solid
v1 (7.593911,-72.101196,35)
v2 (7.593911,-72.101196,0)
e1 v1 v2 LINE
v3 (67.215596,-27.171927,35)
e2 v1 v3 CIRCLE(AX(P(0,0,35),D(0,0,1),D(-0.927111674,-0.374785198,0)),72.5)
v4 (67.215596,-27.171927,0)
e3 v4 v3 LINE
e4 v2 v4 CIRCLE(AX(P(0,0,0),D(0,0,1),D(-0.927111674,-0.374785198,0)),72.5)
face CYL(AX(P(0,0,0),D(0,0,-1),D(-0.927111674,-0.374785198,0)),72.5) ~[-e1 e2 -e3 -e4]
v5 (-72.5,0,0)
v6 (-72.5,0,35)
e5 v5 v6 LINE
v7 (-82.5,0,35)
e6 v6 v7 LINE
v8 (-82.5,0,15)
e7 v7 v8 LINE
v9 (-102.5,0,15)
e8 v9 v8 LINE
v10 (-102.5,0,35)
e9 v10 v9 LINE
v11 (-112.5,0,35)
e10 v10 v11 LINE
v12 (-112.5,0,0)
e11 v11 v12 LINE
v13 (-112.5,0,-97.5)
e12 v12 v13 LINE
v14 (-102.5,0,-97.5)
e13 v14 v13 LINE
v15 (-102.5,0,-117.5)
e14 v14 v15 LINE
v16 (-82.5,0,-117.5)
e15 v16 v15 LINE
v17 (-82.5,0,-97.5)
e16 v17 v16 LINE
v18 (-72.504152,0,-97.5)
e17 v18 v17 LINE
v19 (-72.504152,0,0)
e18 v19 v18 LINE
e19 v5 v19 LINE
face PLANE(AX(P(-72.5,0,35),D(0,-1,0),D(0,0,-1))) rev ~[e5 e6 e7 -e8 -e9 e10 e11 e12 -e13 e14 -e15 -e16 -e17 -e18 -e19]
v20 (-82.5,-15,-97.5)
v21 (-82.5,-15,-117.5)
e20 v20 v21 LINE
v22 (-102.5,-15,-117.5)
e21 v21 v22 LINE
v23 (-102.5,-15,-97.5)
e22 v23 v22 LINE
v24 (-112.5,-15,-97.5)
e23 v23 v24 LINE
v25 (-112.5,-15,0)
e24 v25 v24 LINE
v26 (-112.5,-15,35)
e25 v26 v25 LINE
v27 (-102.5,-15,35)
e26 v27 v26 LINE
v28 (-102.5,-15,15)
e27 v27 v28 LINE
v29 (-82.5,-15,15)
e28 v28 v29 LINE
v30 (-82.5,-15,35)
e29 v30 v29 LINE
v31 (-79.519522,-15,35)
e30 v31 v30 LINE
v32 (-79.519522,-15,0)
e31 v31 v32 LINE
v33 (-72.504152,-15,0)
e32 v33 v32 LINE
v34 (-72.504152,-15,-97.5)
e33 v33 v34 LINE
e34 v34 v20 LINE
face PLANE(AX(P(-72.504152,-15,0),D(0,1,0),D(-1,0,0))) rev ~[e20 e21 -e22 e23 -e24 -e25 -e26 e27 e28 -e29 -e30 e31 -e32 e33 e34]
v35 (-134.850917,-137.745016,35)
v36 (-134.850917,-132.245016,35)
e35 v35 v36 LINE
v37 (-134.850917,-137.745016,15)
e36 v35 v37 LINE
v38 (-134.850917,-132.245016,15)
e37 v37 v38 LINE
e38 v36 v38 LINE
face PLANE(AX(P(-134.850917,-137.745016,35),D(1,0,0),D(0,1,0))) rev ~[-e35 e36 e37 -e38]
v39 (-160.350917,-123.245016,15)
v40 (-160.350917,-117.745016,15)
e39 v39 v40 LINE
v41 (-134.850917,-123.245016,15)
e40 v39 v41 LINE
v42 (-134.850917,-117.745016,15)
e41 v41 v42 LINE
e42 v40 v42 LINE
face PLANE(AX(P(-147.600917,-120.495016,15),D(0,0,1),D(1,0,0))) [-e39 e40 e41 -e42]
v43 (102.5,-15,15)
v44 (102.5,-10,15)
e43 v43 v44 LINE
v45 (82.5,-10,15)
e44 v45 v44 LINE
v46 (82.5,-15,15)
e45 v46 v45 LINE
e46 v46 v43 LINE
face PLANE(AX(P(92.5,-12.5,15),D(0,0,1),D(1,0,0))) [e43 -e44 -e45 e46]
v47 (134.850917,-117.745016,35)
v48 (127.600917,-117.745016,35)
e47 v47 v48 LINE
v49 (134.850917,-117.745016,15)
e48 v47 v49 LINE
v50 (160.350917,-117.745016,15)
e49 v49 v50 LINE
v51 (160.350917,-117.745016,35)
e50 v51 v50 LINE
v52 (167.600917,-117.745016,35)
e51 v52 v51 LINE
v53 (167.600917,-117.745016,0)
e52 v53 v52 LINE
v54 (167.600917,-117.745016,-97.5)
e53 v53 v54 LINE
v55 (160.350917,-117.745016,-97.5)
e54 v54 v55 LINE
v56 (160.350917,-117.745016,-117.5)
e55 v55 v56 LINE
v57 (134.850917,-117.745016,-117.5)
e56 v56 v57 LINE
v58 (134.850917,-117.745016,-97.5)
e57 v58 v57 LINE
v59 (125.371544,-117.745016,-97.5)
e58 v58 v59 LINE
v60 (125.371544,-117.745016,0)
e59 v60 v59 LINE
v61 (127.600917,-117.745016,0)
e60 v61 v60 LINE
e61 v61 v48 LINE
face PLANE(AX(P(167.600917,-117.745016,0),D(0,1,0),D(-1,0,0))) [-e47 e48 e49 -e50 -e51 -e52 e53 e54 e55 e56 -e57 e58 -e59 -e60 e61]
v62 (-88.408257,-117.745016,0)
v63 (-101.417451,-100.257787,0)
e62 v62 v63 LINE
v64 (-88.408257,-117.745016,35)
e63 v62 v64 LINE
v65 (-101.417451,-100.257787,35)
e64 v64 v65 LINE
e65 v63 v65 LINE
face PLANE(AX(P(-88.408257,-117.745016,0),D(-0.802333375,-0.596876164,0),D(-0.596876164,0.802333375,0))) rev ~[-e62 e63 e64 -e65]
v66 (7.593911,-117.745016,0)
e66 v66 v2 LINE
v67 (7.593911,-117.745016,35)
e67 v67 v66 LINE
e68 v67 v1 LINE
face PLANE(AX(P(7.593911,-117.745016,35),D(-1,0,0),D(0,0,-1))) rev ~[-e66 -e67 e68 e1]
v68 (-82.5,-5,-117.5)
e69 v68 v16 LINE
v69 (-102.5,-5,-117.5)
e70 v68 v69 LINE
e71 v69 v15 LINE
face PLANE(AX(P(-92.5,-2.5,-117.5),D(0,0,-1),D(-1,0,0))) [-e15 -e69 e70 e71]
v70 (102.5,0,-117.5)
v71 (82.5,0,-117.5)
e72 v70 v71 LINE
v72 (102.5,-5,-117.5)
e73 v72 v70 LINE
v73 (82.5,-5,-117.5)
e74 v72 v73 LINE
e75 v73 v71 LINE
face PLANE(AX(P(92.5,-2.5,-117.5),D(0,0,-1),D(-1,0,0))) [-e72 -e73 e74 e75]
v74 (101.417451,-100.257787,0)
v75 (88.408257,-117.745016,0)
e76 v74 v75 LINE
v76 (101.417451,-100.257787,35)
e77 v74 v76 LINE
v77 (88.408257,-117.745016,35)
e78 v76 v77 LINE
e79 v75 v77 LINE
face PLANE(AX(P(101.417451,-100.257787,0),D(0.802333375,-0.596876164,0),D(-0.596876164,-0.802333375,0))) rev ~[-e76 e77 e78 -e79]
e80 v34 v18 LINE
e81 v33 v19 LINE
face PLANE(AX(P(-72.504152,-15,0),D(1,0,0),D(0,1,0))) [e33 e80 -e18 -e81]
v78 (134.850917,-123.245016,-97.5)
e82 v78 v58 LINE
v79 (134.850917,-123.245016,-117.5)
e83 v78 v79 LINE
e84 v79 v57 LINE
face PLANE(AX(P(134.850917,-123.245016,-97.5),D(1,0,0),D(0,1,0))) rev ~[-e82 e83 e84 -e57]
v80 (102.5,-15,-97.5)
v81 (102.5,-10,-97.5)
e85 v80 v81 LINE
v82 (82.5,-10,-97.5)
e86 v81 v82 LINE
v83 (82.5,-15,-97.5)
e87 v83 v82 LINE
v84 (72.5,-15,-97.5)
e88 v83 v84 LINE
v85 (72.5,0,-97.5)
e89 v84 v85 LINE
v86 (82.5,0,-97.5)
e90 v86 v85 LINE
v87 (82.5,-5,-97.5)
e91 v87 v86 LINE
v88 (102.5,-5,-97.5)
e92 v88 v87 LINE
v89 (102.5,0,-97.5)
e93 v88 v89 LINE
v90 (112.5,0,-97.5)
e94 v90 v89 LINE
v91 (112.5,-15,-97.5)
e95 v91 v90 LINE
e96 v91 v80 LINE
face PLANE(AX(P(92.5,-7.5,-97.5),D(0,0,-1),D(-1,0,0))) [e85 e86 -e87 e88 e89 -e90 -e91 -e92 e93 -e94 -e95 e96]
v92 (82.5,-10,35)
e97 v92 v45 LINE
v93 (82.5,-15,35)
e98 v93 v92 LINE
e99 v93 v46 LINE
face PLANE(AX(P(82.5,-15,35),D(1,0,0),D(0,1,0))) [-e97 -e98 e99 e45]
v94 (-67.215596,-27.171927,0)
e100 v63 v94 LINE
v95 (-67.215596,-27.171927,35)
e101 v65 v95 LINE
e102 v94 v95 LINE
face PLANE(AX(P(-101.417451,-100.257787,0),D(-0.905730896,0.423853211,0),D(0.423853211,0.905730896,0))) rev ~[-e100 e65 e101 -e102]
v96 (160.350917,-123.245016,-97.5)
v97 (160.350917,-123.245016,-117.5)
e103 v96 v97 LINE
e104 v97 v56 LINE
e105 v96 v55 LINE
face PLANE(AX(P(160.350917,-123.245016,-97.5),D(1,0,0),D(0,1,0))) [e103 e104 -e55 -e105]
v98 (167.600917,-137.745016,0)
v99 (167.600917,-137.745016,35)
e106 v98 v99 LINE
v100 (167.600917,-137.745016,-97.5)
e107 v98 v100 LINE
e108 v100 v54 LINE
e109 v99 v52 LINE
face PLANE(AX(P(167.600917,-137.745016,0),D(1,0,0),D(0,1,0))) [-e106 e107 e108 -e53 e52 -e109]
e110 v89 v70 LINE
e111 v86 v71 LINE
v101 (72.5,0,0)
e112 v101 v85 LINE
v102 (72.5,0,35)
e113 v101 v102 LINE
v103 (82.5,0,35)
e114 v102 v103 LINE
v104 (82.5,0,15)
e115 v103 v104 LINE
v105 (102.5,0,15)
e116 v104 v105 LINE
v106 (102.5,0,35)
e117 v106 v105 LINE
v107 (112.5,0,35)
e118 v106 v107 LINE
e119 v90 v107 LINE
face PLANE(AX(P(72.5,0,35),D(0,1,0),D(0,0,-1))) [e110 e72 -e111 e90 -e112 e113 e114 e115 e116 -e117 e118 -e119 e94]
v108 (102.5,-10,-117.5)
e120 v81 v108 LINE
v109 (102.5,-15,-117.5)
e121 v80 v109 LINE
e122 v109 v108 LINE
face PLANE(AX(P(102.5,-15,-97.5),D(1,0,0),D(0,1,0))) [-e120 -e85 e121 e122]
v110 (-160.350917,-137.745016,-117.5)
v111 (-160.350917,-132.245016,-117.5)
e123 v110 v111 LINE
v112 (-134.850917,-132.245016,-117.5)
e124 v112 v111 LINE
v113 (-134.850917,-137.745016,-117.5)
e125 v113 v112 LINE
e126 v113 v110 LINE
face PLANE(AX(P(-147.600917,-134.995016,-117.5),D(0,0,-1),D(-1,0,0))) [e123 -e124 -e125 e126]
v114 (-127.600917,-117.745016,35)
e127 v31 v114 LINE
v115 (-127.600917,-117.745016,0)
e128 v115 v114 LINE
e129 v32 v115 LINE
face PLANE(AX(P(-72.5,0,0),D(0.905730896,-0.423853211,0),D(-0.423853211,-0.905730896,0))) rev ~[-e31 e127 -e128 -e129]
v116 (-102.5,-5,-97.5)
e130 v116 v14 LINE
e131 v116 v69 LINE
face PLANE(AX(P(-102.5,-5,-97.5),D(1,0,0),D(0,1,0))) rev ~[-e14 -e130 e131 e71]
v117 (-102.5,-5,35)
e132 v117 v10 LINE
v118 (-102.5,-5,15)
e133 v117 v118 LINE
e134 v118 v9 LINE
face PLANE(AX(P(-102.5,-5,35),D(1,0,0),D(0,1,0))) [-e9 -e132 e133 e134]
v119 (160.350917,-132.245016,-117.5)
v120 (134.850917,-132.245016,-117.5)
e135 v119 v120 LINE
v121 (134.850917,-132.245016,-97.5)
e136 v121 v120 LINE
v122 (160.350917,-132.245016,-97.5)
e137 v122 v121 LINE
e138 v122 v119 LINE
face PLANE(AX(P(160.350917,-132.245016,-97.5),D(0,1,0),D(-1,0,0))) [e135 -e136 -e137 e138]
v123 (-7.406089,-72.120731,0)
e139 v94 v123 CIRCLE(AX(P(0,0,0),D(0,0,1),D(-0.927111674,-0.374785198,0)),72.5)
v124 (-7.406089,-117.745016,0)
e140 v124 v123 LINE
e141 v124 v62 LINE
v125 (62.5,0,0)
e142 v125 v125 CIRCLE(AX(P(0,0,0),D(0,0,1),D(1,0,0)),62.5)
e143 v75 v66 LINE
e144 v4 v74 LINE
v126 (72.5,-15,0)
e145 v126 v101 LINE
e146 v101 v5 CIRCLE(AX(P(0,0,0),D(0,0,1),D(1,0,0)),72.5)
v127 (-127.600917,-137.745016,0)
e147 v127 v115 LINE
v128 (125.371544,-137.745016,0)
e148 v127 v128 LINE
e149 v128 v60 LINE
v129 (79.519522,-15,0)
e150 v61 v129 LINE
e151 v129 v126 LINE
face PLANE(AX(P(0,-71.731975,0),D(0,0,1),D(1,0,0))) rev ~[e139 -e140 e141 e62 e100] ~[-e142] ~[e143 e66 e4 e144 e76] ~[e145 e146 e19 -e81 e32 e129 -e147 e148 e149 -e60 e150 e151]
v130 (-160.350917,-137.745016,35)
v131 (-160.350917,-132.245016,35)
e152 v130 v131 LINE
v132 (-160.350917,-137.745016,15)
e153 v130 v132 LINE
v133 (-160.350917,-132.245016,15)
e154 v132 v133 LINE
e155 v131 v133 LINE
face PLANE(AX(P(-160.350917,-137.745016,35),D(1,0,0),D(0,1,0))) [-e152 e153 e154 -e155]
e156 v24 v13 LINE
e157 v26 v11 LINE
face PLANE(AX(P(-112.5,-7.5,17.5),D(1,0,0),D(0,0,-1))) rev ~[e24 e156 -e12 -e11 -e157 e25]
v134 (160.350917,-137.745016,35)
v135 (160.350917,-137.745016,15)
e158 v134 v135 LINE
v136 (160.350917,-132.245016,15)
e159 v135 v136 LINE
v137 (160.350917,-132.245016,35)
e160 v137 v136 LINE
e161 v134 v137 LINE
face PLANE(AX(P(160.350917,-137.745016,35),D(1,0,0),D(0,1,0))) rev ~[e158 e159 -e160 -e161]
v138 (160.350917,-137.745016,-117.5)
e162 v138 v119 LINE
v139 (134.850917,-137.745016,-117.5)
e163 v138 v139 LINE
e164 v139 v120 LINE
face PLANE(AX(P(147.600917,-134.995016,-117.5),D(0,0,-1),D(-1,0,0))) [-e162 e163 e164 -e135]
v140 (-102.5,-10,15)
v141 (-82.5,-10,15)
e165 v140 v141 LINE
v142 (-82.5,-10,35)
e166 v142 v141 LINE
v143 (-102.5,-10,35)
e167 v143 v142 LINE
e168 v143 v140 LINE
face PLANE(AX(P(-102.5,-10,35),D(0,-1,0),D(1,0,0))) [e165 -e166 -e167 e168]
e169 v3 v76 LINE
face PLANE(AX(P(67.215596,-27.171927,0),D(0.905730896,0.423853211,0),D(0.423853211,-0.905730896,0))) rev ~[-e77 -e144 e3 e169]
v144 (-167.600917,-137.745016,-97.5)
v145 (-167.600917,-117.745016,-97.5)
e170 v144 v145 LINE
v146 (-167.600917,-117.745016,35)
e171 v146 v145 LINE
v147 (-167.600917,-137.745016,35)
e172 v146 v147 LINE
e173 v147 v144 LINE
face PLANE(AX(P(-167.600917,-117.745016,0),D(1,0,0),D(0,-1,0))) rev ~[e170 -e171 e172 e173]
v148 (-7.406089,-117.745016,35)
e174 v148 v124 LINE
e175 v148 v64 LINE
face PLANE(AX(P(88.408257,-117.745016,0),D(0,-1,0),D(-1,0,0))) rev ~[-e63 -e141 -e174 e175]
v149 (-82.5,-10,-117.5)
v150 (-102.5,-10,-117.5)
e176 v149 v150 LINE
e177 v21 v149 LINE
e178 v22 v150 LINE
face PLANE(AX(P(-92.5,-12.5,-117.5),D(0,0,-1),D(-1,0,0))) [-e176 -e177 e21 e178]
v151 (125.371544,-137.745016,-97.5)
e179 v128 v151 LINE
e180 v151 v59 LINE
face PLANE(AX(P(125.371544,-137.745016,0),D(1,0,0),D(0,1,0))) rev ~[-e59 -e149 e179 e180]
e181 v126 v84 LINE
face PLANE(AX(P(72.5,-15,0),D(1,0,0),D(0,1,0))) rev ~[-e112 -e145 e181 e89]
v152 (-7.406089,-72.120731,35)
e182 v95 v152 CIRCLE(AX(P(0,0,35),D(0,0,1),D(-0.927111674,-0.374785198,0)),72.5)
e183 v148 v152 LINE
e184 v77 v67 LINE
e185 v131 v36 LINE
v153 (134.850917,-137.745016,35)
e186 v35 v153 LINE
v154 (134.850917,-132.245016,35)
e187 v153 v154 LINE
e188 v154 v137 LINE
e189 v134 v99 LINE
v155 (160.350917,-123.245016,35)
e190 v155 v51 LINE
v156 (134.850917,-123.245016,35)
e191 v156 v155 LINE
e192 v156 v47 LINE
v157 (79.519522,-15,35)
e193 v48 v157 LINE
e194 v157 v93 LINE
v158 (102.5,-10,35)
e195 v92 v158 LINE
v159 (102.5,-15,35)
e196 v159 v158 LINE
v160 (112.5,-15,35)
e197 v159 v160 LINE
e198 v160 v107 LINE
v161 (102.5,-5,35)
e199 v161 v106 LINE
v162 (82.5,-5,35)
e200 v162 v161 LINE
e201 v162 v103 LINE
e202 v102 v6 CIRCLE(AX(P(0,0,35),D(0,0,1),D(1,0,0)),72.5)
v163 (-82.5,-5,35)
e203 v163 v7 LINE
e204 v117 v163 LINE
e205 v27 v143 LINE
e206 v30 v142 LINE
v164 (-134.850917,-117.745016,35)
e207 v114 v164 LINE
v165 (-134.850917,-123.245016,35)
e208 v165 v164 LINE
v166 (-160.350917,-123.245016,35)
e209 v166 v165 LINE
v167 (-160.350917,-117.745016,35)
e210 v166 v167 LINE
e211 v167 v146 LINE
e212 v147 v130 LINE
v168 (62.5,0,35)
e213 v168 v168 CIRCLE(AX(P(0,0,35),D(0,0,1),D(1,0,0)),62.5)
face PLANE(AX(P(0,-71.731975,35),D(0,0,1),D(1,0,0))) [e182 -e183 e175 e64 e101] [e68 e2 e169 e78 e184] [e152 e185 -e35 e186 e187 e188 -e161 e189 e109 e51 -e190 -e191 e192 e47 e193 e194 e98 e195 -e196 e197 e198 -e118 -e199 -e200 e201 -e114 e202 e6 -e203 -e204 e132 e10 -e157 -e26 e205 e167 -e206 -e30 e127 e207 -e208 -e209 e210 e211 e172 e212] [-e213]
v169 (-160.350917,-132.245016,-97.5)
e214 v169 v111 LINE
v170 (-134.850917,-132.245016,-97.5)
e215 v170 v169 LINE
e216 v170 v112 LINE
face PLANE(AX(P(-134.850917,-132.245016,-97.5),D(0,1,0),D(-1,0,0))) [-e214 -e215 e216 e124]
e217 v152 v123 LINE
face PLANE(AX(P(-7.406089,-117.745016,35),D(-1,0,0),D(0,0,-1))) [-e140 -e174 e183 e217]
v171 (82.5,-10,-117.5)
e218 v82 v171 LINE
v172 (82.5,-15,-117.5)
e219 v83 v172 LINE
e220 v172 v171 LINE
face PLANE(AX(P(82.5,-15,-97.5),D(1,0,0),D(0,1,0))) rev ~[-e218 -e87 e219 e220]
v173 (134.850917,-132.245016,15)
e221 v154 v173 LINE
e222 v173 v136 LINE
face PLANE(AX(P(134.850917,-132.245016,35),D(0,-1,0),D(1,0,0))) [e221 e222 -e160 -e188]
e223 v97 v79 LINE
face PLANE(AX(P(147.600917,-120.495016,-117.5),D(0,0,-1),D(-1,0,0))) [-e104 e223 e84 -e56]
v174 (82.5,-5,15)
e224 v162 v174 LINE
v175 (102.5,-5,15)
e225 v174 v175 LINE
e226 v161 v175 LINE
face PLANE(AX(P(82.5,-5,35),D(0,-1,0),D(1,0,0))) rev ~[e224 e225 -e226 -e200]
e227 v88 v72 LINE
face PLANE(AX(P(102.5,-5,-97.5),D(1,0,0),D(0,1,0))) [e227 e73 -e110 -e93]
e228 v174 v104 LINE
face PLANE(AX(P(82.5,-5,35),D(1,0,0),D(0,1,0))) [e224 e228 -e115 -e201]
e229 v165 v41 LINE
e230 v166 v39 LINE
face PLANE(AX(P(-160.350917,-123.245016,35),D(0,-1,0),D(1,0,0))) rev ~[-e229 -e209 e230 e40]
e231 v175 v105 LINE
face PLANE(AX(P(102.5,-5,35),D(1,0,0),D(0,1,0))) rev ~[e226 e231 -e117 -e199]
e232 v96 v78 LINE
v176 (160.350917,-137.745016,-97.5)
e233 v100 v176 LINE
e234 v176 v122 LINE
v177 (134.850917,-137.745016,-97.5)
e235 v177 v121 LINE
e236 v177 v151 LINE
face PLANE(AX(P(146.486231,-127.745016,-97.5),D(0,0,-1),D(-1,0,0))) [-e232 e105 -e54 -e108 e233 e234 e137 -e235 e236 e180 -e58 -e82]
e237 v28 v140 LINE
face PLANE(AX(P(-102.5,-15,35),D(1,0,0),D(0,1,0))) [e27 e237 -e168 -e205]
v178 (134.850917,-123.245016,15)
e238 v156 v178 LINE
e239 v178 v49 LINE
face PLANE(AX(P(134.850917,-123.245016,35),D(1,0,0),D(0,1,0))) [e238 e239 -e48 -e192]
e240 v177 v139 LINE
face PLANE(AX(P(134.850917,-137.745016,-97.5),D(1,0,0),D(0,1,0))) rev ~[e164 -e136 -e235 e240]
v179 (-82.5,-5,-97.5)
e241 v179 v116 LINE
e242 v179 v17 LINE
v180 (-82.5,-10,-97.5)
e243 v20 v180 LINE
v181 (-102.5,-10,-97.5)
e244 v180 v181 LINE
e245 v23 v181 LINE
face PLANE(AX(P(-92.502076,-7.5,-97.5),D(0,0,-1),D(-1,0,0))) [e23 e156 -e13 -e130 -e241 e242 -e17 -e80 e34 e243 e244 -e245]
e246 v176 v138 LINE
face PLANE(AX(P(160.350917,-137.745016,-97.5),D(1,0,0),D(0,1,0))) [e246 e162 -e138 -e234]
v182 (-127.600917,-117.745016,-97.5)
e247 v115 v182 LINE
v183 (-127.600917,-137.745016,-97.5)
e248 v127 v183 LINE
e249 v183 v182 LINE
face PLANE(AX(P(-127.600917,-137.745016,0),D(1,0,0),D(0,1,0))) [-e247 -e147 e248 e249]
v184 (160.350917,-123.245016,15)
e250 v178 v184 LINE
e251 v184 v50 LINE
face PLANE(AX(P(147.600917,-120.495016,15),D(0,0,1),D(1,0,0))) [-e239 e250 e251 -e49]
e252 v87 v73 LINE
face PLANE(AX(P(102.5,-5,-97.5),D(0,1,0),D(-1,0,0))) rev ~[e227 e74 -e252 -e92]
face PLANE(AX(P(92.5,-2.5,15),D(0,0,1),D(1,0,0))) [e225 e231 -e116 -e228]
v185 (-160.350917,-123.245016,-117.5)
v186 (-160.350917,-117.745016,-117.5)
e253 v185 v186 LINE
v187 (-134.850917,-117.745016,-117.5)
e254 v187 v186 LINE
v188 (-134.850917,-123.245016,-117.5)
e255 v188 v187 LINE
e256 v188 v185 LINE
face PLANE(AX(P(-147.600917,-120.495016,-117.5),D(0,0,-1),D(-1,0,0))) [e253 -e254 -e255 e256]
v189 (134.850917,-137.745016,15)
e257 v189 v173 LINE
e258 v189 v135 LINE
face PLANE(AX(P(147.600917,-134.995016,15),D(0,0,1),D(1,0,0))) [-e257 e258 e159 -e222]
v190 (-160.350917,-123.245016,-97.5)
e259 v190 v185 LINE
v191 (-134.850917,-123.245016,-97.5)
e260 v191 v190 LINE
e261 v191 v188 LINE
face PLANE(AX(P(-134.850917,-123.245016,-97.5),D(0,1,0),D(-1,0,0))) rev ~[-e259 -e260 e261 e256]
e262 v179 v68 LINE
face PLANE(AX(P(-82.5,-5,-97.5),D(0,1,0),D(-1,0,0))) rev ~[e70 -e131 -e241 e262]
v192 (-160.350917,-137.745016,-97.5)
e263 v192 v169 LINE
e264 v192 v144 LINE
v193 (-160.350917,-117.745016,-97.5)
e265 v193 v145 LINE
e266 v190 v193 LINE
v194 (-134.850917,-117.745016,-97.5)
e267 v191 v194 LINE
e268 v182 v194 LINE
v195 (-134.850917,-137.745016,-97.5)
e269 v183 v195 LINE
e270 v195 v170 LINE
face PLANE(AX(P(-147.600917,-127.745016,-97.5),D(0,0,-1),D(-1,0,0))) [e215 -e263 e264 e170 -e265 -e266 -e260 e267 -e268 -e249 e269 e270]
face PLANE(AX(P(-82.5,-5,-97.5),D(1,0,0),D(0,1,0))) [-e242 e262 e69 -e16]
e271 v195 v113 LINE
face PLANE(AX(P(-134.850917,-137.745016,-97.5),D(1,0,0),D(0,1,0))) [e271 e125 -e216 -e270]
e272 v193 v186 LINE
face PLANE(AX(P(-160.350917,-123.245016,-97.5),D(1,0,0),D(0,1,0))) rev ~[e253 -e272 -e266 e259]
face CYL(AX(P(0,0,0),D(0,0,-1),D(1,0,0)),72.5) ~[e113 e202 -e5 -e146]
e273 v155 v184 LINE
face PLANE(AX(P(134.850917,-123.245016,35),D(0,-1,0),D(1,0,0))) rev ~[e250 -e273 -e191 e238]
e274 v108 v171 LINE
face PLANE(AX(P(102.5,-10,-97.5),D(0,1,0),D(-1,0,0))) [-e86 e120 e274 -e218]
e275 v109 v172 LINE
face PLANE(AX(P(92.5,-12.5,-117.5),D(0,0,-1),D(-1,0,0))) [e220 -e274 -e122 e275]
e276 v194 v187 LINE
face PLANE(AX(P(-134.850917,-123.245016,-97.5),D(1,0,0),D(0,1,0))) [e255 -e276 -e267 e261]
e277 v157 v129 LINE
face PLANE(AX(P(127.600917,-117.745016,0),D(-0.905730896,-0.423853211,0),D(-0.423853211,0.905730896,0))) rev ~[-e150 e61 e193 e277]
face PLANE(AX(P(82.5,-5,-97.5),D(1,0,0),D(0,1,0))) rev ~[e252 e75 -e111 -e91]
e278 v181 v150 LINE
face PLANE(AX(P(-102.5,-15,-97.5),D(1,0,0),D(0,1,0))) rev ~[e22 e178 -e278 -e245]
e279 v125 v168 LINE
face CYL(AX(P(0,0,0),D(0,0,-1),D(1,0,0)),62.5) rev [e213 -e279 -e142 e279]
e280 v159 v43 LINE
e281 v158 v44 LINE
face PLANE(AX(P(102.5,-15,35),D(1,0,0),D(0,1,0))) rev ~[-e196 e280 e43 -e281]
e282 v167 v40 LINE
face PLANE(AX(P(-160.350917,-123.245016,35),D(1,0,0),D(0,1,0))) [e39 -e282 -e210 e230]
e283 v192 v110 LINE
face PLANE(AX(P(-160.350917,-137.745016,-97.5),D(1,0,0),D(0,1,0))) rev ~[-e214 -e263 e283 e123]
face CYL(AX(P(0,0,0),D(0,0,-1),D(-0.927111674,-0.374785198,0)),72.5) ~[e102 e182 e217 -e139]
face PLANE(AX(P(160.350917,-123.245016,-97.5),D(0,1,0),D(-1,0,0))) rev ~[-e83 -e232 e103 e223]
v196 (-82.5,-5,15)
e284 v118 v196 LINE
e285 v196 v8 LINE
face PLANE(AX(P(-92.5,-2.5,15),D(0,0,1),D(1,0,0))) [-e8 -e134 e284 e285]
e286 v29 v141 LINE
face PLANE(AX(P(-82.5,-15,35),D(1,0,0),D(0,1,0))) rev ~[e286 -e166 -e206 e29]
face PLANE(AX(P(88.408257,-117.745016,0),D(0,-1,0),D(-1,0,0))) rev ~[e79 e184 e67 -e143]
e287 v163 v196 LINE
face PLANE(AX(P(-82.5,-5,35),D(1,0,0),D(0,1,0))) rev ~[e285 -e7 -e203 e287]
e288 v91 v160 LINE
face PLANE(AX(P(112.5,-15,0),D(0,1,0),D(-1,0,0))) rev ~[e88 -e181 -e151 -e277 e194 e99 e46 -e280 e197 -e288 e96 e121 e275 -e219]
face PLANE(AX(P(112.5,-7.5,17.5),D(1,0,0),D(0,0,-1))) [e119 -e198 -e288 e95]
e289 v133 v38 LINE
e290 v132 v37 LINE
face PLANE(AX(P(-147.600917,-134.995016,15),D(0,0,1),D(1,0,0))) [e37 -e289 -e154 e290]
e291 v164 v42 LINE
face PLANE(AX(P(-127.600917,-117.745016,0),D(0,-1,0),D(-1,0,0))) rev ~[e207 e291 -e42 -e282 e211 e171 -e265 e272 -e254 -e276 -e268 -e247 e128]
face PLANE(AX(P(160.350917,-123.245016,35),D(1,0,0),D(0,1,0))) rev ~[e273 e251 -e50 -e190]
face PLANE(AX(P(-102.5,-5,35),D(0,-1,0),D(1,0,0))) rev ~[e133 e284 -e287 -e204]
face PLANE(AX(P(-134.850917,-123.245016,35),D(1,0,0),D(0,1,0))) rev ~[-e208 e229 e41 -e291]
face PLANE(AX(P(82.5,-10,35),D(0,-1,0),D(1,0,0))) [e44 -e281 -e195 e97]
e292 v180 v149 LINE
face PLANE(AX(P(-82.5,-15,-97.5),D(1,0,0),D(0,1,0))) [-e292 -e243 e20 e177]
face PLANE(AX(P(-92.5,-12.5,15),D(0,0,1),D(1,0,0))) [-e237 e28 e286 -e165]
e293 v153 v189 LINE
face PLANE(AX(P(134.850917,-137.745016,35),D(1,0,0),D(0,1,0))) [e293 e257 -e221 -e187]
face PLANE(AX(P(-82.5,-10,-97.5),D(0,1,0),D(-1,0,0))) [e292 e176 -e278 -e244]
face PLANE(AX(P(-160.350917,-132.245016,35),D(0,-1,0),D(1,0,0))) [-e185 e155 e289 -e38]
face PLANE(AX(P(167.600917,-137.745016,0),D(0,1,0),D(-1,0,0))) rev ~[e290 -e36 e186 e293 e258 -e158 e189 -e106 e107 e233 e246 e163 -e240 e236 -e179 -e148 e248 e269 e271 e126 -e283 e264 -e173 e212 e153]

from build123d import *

# Parameters (mm, degrees)
SKETCH1_R            = 62.5
BOSS_EXTRUDE8_DEPTH  = 35
BOSS_EXTRUDE9_REACH  = 192.245
SKETCH2_W            = 15
SKETCH2_H            = 35
SKETCH10_W           = 35
SKETCH10_H           = 15
BOSS_EXTRUDE12_DEPTH = 40
SKETCH6_W            = 35
SKETCH6_H            = 15
BOSS_EXTRUDE10_DEPTH = 40
SKETCH12_W           = 42.229373335
SKETCH12_H           = 20
SKETCH12_W_2         = 40
SKETCH12_H_2         = 15
SKETCH12_W_3         = 39.995847529
BOSS_EXTRUDE13_DEPTH = 97.5
SKETCH13_W           = 20
SKETCH13_H           = 5
SKETCH13_W_2         = 25.5
SKETCH13_H_2         = 5.5
CUT_EXTRUDE1_DEPTH   = 20
SKETCH14_W           = 20
SKETCH14_H           = 5
SKETCH14_W_2         = 25.5
SKETCH14_H_2         = 5.5
BOSS_EXTRUDE14_DEPTH = 20


with BuildPart() as part:
    # Sketch1 → Boss-Extrude8 (new body)
    with BuildSketch(Plane.XY):
        with BuildLine():
            Line((127.600917431, -117.745016448), (72.5, 0))
            ThreePointArc((72.5, 0), (0, 72.5), (-72.5, 0))
            Line((-72.5, 0), (-127.600917431, -117.745016448))
            Line((-127.600917431, -117.745016448), (-167.600917431, -117.745016448))
            Line((-167.600917431, -117.745016448), (-167.600917431, -137.745016448))
            Line((-167.600917431, -137.745016448), (167.600917431, -137.745016448))
            Line((167.600917431, -137.745016448), (167.600917431, -117.745016448))
            Line((167.600917431, -117.745016448), (127.600917431, -117.745016448))
        make_face()
        with BuildLine():
            ThreePointArc((-67.21559633, -27.171926873), (0, -72.5), (67.21559633, -27.171926873))
            Line((67.21559633, -27.171926873), (101.417450928, -100.25778678))
            Line((101.417450928, -100.25778678), (88.408256881, -117.745016448))
            Line((88.408256881, -117.745016448), (-88.408256881, -117.745016448))
            Line((-88.408256881, -117.745016448), (-101.417450928, -100.25778678))
            Line((-101.417450928, -100.25778678), (-67.21559633, -27.171926873))
        make_face(mode=Mode.SUBTRACT)
        Circle(SKETCH1_R, mode=Mode.SUBTRACT)
    extrude(amount=BOSS_EXTRUDE8_DEPTH)

    # Sketch2 → Boss-Extrude9 (add, up to next)
    with BuildSketch(Plane(origin=(0, -117.745016448, 0), x_dir=(1, 0, 0), z_dir=(0, 1, 0)), mode=Mode.PRIVATE) as boss_extrude9_sk1:
        with Locations((0.093911399, -17.5)):
            Rectangle(SKETCH2_W, SKETCH2_H)
    boss_extrude9_tool1 = extrude(boss_extrude9_sk1.sketch, amount=BOSS_EXTRUDE9_REACH, mode=Mode.PRIVATE) - part.part
    add(boss_extrude9_tool1.solids().sort_by_distance((0.093911, -117.745016, 17.5))[0])

    # Sketch10 → Boss-Extrude12 (add)
    with BuildSketch(Plane(origin=(-72.5, 0, 0), x_dir=(0, 0, -1), z_dir=(1, 0, 0))):
        with Locations((-17.5, -7.5)):
            Rectangle(SKETCH10_W, SKETCH10_H)
    extrude(amount=-BOSS_EXTRUDE12_DEPTH)

    # Sketch6 → Boss-Extrude10 (add)
    with BuildSketch(Plane(origin=(72.5, 0, 0), x_dir=(0, 0, -1), z_dir=(1, 0, 0))):
        with Locations((-17.5, -7.5)):
            Rectangle(SKETCH6_W, SKETCH6_H)
    extrude(amount=BOSS_EXTRUDE10_DEPTH)

    # Sketch12 → Boss-Extrude13 (add)
    with BuildSketch(Plane(origin=(0, 0, 0), x_dir=(-1, 0, 0), z_dir=(0, 0, -1))):
        with Locations((-146.486230764, -127.745016448)):
            Rectangle(SKETCH12_W, SKETCH12_H)
        with Locations((147.600917431, -127.745016448)):
            Rectangle(SKETCH12_W_2, SKETCH12_H)
        with Locations((-92.5, -7.5)):
            Rectangle(SKETCH12_W_2, SKETCH12_H_2)
        with Locations((92.502076235, -7.5)):
            Rectangle(SKETCH12_W_3, SKETCH12_H_2)
    extrude(amount=BOSS_EXTRUDE13_DEPTH)

    # Sketch13 → Cut-Extrude1 (cut)
    with BuildSketch(Plane.XY.offset(35)):
        with Locations((-92.5, -12.5)):
            Rectangle(SKETCH13_W, SKETCH13_H)
        with Locations((-147.600917431, -134.995016448)):
            Rectangle(SKETCH13_W_2, SKETCH13_H_2)
        with Locations((-92.5, -2.5)):
            Rectangle(SKETCH13_W, SKETCH13_H)
        with Locations((92.5, -2.5)):
            Rectangle(SKETCH13_W, SKETCH13_H)
        with Locations((92.5, -12.5)):
            Rectangle(SKETCH13_W, SKETCH13_H)
        with Locations((147.600917431, -120.495016448)):
            Rectangle(SKETCH13_W_2, SKETCH13_H_2)
        with Locations((147.600917431, -134.995016448)):
            Rectangle(SKETCH13_W_2, SKETCH13_H_2)
        with Locations((-147.600917431, -120.495016448)):
            Rectangle(SKETCH13_W_2, SKETCH13_H_2)
    extrude(amount=-CUT_EXTRUDE1_DEPTH, mode=Mode.SUBTRACT)

    # Sketch14 → Boss-Extrude14 (add)
    with BuildSketch(Plane(origin=(0, 0, -97.5), x_dir=(-1, 0, 0), z_dir=(0, 0, -1))):
        with Locations((-92.5, -2.5)):
            Rectangle(SKETCH14_W, SKETCH14_H)
        with Locations((-92.5, -12.5)):
            Rectangle(SKETCH14_W, SKETCH14_H)
        with Locations((92.5, -2.5)):
            Rectangle(SKETCH14_W, SKETCH14_H)
        with Locations((92.5, -12.5)):
            Rectangle(SKETCH14_W, SKETCH14_H)
        with Locations((147.600917431, -120.495016448)):
            Rectangle(SKETCH14_W_2, SKETCH14_H_2)
        with Locations((147.600917431, -134.995016448)):
            Rectangle(SKETCH14_W_2, SKETCH14_H_2)
        with Locations((-147.600917431, -120.495016448)):
            Rectangle(SKETCH14_W_2, SKETCH14_H_2)
        with Locations((-147.600917431, -134.995016448)):
            Rectangle(SKETCH14_W_2, SKETCH14_H_2)
    extrude(amount=BOSS_EXTRUDE14_DEPTH)


solid = part.part
